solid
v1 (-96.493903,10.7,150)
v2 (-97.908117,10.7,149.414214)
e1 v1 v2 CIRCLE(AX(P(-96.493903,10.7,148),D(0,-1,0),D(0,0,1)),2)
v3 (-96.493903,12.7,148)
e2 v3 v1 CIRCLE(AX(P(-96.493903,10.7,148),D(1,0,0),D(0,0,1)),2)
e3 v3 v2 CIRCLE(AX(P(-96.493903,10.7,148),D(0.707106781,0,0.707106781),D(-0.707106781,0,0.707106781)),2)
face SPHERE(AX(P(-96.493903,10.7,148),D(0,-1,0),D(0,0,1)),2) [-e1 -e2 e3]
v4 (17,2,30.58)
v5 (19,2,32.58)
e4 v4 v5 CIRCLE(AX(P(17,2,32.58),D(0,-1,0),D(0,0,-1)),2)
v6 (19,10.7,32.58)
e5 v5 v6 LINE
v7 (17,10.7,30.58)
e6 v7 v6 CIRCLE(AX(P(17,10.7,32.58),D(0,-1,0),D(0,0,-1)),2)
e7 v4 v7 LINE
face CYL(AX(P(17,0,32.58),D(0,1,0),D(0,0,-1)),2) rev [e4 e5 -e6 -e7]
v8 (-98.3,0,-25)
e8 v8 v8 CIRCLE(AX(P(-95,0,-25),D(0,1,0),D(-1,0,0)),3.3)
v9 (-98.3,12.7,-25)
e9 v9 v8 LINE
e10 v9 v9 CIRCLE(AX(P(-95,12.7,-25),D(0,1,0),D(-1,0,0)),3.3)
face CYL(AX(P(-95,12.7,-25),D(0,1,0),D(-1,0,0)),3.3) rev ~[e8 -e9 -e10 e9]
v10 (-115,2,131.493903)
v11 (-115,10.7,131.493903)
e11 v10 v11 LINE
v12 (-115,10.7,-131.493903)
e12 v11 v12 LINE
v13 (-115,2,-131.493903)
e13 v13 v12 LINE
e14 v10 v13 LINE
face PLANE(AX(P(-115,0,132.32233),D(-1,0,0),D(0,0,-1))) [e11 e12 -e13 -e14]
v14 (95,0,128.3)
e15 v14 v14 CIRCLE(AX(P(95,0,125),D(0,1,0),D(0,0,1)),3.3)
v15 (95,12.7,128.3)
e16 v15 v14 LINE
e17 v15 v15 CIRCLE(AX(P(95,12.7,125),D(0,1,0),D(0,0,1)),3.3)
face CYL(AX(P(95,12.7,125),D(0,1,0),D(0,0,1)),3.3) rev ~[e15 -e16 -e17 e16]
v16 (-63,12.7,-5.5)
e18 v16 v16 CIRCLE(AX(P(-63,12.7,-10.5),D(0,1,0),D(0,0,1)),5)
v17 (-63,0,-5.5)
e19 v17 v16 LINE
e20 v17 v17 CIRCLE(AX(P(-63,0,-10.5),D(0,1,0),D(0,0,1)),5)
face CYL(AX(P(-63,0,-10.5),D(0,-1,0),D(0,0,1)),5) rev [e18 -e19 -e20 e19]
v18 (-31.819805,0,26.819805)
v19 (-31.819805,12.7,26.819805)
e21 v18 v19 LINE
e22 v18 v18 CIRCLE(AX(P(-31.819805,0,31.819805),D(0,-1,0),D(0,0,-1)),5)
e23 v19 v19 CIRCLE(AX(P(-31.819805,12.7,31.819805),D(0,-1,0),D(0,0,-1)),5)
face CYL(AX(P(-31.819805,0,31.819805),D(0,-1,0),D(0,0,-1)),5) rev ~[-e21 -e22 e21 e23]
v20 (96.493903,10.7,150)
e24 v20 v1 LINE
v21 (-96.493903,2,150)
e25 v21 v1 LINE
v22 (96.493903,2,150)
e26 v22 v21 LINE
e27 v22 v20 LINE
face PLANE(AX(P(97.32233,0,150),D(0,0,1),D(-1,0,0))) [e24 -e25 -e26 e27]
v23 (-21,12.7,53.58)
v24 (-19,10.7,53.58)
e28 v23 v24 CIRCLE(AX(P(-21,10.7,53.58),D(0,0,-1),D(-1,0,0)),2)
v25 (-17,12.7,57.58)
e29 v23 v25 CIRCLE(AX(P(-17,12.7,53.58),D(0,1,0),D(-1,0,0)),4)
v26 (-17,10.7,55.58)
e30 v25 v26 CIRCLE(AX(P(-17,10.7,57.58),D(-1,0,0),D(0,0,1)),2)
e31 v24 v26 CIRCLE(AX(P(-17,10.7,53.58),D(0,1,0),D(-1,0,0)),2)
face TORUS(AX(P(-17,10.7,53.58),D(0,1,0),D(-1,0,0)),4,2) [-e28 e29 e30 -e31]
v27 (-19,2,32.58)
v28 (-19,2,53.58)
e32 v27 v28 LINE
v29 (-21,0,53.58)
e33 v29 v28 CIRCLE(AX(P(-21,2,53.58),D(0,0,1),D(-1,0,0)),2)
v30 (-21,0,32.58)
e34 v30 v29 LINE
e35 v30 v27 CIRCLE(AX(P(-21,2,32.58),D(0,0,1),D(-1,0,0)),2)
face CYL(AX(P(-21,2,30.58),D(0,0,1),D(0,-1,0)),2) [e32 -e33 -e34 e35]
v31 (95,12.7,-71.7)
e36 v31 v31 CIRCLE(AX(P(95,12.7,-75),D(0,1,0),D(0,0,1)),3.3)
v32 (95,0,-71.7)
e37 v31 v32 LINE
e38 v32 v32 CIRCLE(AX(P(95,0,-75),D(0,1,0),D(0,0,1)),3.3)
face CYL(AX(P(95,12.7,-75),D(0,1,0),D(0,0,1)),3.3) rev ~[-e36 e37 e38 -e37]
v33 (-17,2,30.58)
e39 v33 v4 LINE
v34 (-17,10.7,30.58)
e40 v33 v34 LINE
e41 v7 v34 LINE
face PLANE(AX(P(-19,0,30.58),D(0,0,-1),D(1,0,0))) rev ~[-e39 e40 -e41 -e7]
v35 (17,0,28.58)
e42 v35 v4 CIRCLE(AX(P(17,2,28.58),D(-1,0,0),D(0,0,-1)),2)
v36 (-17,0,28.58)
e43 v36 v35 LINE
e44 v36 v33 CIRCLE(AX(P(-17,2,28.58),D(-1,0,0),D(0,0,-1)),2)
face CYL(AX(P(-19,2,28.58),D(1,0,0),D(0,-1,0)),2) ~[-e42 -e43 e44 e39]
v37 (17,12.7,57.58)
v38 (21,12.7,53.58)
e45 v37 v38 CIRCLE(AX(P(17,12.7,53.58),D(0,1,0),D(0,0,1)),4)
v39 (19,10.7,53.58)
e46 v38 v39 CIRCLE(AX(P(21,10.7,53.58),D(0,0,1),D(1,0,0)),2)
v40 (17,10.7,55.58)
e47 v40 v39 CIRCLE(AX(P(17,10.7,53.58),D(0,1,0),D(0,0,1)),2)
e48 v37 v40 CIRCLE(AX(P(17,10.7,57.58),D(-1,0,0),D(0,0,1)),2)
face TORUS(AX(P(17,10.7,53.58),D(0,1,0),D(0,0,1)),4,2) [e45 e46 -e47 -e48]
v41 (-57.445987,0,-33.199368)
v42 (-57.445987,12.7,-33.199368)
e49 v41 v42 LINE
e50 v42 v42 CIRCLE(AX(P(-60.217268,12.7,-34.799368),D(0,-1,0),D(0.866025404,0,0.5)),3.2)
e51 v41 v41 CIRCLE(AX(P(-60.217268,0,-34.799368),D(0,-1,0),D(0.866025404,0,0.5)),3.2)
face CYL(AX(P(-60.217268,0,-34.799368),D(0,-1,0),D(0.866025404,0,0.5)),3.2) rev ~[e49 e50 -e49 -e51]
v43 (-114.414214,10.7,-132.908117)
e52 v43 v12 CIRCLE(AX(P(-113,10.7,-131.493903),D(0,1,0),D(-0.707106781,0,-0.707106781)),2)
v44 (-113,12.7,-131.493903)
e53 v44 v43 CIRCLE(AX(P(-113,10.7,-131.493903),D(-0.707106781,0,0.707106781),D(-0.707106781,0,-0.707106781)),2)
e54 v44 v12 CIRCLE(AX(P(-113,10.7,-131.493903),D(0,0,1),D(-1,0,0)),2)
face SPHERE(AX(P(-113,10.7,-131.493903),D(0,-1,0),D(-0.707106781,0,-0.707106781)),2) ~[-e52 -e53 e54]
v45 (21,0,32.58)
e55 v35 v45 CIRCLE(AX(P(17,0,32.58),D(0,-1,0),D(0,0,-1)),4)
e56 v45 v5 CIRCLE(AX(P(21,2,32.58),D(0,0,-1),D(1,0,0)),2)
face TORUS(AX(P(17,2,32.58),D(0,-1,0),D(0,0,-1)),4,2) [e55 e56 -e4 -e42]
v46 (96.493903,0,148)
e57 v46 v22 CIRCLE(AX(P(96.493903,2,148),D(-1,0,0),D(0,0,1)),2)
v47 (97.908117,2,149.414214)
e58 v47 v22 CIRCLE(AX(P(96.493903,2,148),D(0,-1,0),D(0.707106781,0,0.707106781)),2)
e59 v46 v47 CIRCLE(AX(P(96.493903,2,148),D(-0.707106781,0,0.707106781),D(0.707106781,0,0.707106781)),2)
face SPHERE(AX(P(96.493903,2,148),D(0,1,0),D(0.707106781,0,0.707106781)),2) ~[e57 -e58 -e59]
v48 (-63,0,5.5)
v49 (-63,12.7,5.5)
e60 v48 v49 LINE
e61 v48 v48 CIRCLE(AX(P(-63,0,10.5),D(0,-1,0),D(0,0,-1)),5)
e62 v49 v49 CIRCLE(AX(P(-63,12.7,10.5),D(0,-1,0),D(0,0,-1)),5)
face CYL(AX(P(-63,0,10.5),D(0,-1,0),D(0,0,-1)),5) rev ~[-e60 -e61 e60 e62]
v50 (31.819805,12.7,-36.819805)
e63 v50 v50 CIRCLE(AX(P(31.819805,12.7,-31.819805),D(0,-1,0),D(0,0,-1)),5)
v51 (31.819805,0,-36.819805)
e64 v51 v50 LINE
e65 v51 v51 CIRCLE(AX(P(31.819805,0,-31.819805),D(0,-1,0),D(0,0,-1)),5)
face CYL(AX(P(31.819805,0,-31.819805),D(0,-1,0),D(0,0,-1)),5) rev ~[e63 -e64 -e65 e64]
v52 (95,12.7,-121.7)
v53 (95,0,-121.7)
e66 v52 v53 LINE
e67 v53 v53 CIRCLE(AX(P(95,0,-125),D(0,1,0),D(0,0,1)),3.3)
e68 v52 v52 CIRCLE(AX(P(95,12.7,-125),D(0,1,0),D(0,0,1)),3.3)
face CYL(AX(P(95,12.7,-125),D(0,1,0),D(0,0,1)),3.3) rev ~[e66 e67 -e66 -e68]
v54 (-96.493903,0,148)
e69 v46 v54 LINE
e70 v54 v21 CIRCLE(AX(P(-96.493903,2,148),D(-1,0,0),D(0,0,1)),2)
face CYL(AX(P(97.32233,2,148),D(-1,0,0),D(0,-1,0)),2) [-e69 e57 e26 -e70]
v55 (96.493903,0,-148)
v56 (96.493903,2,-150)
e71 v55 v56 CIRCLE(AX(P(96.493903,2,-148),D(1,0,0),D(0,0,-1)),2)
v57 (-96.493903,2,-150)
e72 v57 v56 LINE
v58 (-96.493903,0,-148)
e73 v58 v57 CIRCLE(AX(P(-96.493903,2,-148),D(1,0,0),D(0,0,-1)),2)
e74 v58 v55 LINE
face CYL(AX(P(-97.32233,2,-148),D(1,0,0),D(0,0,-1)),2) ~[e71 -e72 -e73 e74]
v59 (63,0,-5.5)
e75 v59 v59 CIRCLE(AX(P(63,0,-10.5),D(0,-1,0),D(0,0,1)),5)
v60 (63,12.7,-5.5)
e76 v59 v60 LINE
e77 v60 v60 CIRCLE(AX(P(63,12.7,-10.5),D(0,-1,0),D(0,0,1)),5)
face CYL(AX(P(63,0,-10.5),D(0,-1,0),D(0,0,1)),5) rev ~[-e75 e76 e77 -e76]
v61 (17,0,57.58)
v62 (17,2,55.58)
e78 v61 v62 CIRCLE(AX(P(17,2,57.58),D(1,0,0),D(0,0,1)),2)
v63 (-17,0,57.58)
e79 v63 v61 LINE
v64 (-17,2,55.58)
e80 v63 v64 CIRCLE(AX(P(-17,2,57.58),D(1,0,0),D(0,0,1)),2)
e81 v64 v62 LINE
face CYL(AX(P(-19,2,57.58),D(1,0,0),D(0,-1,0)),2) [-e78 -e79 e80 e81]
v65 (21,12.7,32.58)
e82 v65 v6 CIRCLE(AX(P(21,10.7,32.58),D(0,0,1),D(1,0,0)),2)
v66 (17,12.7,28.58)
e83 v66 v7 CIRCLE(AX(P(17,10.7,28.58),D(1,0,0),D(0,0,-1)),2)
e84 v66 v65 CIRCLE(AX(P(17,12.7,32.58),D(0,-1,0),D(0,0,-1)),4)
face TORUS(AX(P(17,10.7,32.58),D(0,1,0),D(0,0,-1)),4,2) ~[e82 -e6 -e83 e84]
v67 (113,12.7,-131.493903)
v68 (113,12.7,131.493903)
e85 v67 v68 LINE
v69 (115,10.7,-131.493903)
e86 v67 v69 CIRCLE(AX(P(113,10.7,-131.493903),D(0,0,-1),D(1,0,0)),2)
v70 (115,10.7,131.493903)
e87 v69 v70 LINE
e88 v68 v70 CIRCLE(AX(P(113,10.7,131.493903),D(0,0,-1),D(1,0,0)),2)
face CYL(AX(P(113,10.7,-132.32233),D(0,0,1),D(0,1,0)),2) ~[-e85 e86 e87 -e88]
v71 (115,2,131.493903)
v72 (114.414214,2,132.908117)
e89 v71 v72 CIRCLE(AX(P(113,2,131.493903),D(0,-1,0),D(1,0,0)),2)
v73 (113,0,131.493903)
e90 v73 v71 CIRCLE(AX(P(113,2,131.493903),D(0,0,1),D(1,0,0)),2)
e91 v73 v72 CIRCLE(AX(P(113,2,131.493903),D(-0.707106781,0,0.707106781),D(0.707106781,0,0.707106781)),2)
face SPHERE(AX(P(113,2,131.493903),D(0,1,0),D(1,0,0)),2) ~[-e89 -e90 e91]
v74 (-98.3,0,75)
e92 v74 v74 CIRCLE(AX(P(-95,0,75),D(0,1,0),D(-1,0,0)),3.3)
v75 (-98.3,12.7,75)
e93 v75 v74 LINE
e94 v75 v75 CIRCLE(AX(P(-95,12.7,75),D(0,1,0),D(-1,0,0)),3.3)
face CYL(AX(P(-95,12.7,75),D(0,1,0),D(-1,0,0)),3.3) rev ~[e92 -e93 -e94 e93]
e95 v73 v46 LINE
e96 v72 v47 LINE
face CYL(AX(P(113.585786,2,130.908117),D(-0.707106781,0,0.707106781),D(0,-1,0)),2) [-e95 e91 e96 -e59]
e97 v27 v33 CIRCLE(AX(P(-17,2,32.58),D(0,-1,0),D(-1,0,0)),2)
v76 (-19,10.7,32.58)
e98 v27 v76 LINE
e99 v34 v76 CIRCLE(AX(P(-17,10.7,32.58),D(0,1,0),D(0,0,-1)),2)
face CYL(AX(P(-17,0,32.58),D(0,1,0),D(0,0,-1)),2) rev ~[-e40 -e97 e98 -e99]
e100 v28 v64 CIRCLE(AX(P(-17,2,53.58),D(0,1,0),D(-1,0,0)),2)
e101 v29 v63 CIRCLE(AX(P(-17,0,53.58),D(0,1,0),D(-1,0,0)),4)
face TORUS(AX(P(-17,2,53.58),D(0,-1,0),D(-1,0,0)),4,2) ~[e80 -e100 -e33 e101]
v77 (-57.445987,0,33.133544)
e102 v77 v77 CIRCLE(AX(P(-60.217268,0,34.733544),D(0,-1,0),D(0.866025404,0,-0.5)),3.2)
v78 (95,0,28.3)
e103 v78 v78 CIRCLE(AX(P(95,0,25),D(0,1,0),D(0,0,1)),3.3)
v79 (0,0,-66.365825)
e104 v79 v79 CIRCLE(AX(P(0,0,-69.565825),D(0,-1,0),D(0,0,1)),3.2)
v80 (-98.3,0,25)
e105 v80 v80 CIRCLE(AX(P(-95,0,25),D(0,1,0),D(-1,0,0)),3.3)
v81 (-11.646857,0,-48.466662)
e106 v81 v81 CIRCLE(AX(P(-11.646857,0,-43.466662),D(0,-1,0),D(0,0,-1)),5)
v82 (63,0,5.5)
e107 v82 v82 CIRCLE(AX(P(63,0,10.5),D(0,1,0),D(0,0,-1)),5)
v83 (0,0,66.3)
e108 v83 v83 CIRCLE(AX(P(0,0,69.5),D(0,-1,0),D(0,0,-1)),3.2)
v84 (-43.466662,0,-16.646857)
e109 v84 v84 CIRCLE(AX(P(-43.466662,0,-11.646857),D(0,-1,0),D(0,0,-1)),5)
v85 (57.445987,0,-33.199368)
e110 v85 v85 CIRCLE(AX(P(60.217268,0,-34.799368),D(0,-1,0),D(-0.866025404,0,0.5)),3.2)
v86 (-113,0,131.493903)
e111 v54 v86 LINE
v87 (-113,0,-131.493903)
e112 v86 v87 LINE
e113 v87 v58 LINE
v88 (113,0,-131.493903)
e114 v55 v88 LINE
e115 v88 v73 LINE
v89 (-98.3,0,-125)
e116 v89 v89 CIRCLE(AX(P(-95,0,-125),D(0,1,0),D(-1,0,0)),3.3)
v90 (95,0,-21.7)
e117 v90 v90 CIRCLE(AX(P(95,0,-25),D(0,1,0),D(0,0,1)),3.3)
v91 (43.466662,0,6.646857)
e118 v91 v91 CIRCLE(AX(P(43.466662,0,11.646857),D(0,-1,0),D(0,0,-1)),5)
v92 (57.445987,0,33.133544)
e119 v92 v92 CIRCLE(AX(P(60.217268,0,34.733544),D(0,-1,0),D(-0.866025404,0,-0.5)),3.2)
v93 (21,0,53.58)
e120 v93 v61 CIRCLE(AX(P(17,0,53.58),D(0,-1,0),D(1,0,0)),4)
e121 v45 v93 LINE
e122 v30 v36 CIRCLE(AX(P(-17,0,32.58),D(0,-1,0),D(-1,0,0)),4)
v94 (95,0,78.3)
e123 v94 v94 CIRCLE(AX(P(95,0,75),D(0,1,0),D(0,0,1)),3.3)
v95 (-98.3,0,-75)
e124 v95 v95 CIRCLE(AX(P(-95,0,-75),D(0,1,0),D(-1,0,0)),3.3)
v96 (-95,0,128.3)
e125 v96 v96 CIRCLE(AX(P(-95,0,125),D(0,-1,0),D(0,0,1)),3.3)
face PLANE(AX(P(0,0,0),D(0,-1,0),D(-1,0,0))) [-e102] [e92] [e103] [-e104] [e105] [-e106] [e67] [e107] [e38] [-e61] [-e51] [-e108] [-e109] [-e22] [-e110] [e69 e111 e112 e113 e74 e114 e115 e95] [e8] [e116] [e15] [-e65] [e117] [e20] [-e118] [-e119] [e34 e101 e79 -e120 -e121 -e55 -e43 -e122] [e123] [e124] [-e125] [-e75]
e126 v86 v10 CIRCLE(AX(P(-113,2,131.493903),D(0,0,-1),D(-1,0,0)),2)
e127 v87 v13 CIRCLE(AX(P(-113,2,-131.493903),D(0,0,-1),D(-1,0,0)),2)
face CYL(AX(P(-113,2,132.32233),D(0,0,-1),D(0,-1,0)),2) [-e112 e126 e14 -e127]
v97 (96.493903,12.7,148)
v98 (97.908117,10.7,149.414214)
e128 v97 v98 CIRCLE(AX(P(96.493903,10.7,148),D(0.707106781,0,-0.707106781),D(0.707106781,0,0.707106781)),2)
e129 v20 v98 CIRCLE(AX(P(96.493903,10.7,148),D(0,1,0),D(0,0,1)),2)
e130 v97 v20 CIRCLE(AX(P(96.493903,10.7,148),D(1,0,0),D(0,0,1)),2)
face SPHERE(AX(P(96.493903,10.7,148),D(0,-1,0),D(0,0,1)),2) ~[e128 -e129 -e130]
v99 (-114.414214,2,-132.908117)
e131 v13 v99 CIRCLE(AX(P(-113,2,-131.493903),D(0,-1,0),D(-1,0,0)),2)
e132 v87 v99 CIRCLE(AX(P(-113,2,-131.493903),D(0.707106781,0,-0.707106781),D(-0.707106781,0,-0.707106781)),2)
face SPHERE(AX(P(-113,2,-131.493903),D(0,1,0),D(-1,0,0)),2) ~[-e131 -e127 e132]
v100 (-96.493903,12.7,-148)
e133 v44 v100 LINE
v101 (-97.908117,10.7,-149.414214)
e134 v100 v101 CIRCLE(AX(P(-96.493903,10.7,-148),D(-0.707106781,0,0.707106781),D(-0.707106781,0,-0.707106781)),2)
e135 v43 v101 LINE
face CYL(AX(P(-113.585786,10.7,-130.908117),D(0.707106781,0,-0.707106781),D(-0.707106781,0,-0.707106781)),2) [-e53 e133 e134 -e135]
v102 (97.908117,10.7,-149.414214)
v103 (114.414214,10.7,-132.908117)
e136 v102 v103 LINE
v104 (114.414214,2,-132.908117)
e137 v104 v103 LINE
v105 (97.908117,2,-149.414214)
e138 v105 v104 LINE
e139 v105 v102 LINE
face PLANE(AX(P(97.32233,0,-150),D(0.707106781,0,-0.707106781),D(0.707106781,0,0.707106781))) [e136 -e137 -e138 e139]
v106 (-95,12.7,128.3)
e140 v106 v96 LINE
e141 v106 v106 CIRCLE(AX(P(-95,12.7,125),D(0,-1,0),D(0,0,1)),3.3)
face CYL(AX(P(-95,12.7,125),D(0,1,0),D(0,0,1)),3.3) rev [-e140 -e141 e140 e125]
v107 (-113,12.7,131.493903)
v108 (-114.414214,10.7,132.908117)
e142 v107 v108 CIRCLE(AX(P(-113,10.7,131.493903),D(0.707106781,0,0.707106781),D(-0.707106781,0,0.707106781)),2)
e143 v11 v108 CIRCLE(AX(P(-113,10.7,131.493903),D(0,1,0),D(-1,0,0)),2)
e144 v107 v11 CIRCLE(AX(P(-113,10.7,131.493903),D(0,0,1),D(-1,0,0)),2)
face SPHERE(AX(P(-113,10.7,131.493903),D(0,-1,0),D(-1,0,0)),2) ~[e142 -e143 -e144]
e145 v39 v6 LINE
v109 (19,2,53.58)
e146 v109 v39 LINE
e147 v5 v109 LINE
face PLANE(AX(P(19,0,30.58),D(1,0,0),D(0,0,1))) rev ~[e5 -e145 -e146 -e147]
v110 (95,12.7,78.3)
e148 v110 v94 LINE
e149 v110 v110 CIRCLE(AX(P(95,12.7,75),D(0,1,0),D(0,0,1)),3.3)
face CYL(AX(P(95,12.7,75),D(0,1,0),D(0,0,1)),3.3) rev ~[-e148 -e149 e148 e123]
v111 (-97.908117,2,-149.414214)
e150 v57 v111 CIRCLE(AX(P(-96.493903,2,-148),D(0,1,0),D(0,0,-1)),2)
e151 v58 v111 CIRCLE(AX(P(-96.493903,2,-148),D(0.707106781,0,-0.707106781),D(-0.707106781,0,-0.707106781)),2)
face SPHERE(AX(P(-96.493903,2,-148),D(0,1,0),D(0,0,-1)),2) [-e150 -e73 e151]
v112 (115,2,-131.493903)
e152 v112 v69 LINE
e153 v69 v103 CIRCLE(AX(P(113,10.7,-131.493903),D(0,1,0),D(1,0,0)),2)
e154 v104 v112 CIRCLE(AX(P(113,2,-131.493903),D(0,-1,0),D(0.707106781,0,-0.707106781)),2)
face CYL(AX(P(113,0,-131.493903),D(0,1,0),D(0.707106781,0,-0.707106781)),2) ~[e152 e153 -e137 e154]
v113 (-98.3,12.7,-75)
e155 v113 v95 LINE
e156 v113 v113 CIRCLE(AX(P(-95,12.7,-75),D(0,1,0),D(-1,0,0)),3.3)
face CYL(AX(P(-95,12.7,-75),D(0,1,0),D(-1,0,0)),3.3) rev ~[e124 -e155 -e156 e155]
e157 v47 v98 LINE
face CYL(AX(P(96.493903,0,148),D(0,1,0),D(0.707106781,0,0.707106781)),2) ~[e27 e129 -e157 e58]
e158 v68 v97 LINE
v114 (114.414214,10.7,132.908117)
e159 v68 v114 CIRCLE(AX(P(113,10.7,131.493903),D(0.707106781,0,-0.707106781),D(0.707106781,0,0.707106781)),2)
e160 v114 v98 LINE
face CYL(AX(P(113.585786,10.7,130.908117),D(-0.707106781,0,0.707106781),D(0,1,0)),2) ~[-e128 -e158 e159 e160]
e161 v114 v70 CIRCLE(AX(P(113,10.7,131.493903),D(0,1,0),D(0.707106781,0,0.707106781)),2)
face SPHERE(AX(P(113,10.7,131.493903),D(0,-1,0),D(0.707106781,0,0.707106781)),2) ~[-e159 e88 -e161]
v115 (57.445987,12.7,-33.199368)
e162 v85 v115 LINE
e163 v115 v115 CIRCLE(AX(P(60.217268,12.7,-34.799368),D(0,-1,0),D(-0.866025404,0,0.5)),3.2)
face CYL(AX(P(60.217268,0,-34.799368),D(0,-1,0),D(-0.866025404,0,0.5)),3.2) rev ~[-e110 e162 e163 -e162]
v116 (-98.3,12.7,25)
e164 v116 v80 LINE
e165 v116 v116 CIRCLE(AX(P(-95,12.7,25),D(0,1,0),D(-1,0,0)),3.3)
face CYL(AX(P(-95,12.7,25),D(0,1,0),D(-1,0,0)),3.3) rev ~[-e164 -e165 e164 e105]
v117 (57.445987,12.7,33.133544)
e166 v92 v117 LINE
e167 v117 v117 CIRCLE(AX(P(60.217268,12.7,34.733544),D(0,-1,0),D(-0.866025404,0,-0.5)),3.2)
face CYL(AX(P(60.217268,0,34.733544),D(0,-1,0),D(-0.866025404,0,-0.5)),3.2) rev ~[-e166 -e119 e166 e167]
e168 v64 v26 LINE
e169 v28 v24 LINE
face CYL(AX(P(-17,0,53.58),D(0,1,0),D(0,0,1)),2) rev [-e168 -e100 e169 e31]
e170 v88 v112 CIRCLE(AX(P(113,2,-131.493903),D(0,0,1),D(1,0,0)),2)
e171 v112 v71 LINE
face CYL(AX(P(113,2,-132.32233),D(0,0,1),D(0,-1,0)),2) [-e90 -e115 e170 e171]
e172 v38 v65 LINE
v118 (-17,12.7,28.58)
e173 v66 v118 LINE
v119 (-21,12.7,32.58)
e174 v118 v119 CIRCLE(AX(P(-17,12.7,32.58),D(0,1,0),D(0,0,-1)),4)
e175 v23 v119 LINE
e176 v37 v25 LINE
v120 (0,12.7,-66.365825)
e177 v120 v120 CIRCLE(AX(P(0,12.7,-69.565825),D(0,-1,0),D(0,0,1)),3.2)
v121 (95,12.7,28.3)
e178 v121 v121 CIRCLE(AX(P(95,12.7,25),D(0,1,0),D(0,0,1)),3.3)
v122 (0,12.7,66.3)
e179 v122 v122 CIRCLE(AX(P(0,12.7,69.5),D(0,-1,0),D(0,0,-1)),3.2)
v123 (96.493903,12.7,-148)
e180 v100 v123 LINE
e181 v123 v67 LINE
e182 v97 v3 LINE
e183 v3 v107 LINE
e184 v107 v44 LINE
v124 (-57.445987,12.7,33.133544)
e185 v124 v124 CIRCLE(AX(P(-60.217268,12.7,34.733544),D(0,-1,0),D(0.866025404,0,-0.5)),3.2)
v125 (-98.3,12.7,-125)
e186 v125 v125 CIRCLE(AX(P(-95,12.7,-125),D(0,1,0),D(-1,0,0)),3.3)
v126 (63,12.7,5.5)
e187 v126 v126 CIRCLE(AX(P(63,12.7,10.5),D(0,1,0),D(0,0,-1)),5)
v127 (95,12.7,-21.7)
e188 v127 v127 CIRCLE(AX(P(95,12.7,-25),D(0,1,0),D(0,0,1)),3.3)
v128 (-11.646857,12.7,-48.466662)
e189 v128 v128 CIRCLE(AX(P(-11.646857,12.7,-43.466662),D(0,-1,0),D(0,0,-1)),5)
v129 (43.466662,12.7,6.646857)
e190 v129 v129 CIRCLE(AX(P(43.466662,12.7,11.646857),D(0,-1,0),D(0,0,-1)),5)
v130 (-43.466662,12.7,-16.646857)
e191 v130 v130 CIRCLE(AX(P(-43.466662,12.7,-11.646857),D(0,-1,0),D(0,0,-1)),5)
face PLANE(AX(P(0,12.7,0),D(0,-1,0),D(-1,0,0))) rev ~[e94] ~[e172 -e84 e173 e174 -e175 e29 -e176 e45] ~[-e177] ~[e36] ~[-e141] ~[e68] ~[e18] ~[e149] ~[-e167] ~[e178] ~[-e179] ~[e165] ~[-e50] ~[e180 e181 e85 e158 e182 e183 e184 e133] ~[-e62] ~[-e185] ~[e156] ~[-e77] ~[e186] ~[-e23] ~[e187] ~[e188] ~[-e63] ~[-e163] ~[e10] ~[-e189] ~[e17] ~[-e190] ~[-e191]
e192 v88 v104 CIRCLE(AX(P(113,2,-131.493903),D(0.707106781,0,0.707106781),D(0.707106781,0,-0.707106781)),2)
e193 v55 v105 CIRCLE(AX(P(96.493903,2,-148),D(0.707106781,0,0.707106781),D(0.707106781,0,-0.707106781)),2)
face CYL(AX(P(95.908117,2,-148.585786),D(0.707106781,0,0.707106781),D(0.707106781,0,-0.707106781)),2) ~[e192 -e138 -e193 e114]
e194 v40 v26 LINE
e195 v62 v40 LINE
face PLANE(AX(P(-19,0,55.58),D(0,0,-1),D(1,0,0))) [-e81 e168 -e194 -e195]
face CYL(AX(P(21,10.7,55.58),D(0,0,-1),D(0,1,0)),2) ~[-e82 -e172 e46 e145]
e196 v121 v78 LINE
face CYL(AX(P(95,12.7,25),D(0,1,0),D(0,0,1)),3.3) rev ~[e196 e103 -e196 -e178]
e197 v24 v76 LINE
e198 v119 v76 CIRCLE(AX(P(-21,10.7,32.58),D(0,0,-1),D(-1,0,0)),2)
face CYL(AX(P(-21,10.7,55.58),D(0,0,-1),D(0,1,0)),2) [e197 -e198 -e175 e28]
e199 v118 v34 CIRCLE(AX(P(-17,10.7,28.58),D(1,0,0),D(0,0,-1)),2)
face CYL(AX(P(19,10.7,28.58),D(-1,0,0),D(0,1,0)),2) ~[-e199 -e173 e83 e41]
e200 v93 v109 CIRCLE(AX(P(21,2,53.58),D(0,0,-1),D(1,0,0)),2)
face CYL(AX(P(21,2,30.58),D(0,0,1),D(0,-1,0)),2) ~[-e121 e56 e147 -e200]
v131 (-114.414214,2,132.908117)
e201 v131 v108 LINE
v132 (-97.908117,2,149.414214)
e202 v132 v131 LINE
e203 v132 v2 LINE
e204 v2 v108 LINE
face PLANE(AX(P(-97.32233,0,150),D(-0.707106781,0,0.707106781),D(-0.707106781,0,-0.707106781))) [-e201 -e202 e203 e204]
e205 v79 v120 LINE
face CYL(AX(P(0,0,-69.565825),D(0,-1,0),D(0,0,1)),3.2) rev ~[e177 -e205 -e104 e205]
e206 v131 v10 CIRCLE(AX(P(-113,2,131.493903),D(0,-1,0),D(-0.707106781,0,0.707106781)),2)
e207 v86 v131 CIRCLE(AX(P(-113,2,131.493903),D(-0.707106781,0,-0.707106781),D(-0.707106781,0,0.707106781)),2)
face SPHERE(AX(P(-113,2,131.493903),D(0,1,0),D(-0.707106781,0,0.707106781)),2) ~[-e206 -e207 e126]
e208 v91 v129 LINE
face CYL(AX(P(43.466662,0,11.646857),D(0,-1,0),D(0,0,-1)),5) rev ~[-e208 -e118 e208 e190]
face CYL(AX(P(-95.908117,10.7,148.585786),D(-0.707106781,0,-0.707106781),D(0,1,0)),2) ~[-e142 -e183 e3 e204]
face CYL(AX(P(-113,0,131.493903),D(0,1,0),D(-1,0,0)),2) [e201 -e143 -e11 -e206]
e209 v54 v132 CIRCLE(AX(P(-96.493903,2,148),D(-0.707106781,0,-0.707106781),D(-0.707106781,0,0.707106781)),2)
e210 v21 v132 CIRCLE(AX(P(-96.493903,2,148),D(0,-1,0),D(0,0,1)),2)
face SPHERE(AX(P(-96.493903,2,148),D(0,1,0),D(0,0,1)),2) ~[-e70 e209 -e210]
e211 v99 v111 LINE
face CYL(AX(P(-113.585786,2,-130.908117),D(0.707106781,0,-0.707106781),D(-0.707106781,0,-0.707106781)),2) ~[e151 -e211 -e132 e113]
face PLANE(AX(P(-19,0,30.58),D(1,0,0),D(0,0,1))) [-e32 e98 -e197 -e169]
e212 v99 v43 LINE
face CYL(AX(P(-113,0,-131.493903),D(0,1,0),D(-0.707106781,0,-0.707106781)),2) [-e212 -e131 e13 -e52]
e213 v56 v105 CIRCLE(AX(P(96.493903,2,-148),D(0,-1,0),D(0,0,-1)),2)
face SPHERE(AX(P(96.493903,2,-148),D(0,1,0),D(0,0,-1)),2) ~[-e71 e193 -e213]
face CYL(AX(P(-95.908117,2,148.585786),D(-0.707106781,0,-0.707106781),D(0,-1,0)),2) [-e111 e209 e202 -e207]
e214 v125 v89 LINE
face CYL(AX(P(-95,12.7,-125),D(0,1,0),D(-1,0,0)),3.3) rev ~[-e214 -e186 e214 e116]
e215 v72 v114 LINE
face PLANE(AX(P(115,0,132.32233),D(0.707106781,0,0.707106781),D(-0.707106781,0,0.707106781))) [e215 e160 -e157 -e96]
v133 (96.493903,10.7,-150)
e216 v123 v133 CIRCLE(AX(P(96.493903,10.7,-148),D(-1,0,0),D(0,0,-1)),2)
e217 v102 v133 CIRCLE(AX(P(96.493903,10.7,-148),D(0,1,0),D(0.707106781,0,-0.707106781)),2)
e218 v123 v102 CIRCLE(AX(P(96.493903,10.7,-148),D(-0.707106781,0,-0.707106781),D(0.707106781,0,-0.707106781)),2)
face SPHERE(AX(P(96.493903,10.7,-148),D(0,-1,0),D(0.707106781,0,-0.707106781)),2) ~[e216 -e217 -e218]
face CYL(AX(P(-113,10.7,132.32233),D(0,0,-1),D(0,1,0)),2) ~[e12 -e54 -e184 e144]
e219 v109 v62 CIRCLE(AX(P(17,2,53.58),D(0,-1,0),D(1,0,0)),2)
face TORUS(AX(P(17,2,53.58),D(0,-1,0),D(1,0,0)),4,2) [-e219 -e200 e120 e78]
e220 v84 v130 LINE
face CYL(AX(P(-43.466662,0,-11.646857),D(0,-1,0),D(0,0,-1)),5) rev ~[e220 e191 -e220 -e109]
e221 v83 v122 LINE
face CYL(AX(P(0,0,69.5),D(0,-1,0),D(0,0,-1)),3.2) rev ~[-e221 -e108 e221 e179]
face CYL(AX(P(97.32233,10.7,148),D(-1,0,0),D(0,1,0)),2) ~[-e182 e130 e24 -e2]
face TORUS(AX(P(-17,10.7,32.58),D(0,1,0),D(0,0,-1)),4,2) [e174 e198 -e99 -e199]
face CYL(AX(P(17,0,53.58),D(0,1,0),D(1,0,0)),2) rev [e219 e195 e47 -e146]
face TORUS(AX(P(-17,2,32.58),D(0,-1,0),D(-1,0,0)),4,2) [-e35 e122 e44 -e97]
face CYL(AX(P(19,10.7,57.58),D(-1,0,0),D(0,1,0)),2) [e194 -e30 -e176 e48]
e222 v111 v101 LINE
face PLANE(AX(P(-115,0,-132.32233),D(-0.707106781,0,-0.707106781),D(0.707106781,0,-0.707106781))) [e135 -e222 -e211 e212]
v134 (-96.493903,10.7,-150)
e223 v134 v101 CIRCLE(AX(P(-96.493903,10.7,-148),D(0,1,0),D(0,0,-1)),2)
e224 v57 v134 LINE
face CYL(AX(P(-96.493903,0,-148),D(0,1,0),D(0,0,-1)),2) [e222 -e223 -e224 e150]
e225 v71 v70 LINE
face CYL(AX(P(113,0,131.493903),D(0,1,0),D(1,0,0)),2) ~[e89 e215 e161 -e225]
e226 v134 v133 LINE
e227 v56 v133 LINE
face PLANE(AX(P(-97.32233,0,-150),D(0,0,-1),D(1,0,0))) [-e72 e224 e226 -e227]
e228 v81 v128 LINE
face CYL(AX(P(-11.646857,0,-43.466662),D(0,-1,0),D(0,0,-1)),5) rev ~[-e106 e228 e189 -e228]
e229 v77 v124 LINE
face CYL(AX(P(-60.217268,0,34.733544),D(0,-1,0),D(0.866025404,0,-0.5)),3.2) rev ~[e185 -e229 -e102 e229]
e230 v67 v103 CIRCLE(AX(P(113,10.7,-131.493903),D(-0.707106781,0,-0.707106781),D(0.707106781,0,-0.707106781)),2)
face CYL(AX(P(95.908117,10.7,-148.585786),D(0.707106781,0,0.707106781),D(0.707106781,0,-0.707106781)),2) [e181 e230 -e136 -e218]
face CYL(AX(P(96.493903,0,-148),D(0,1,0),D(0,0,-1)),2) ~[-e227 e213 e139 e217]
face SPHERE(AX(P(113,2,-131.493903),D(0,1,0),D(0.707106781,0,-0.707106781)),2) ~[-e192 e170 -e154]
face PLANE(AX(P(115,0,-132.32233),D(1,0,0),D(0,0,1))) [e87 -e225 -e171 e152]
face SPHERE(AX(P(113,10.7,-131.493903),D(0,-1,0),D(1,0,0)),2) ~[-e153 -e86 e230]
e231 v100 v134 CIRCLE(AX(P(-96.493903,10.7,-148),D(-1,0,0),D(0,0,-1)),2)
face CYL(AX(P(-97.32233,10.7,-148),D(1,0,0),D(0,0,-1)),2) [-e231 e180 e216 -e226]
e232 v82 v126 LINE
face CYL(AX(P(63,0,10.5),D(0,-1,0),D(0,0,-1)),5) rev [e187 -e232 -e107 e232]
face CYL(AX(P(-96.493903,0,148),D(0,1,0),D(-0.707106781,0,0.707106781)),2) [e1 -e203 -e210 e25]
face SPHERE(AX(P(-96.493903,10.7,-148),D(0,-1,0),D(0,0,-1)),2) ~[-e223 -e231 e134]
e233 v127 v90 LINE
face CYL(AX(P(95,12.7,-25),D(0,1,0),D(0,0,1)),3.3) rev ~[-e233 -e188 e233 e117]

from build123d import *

# Parameters (mm, degrees)
BOSS_EXTRUDE1_DEPTH                        = 12.7
SKETCH8_R                                  = 3.3
CUT_EXTRUDE1_DEPTH                         = 12.7
LPATTERN1_COUNT                            = 6
LPATTERN1_PITCH                            = 50
MIRROR1_COPY_1_SKETCH_R                    = 3.3
MIRROR1_COPY_1_DEPTH                       = 12.7
MIRROR1_COPY_2_SKETCH_R                    = 3.3
MIRROR1_COPY_2_DEPTH                       = 12.7
MIRROR1_COPY_3_SKETCH_R                    = 3.3
MIRROR1_COPY_3_DEPTH                       = 12.7
MIRROR1_COPY_4_SKETCH_R                    = 3.3
MIRROR1_COPY_4_DEPTH                       = 12.7
MIRROR1_COPY_5_SKETCH_R                    = 3.3
MIRROR1_COPY_5_DEPTH                       = 12.7
SKETCH14_R                                 = 3.2
CUT_EXTRUDE6_DEPTH                         = 190.436770454
CIRPATTERN1_COUNT                          = 6
FILLET1_R                                  = 2
CUT_EXTRUDE7_REACH                         = 191.437
SKETCH15_R                                 = 5
CUT_EXTRUDE8_REACH                         = 191.437
SKETCH17_R                                 = 5
MIRROR2_AT_THE_SECOND_PLANE_COPY_1_REACH   = 191.437
MIRROR2_AT_THE_SECOND_PLANE_COPY_1_SKETC_R = 5
CUT_EXTRUDE9_REACH                         = 191.437
SKETCH18_W                                 = 38
SKETCH18_H                                 = 25
FILLET3_R                                  = 2


with BuildPart() as part:
    # Sketch2 → Boss-Extrude1 (new body)
    with BuildSketch(Plane(origin=(0, 0, 0), x_dir=(1, 0, 0), z_dir=(0, 1, 0))):
        Polygon((-97.32233047, 150), (97.32233047, 150), (115, 132.32233047), (115, -132.32233047), (97.32233047, -150), (-97.32233047, -150), (-115, -132.32233047), (-115, 132.32233047), align=None)
    extrude(amount=BOSS_EXTRUDE1_DEPTH)

    # Sketch8 → Cut-Extrude1 (cut)
    with BuildSketch(Plane(origin=(0, 12.7, 0), x_dir=(1, 0, 0), z_dir=(0, 1, 0))):
        with Locations(Location((95, -125, 0), (0, 0, 270))):
            Circle(SKETCH8_R)
    cut_extrude1 = extrude(amount=-CUT_EXTRUDE1_DEPTH, mode=Mode.SUBTRACT)

    # LPattern1: Cut-Extrude1 ×6
    with Locations(*[(0, 0, -i * LPATTERN1_PITCH) for i in range(1, LPATTERN1_COUNT)]):
        add(cut_extrude1, mode=Mode.SUBTRACT)

    # Mirror1: Cut-Extrude1 across plane
    add(cut_extrude1.mirror(Plane(origin=(0, 0, 0), x_dir=(0, 0, 1), z_dir=(1, 0, 0))), mode=Mode.SUBTRACT)

    # Mirror1 copy 1 sketch → Mirror1 copy 1 (cut)
    with BuildSketch(Plane(origin=(0, 12.7, -50), x_dir=(-1, 0, 0), z_dir=(0, 1, 0))):
        with Locations((95, 125)):
            Circle(MIRROR1_COPY_1_SKETCH_R)
    extrude(amount=-MIRROR1_COPY_1_DEPTH, mode=Mode.SUBTRACT)

    # Mirror1 copy 2 sketch → Mirror1 copy 2 (cut)
    with BuildSketch(Plane(origin=(0, 12.7, -100), x_dir=(-1, 0, 0), z_dir=(0, 1, 0))):
        with Locations((95, 125)):
            Circle(MIRROR1_COPY_2_SKETCH_R)
    extrude(amount=-MIRROR1_COPY_2_DEPTH, mode=Mode.SUBTRACT)

    # Mirror1 copy 3 sketch → Mirror1 copy 3 (cut)
    with BuildSketch(Plane(origin=(0, 12.7, -150), x_dir=(-1, 0, 0), z_dir=(0, 1, 0))):
        with Locations((95, 125)):
            Circle(MIRROR1_COPY_3_SKETCH_R)
    extrude(amount=-MIRROR1_COPY_3_DEPTH, mode=Mode.SUBTRACT)

    # Mirror1 copy 4 sketch → Mirror1 copy 4 (cut)
    with BuildSketch(Plane(origin=(0, 12.7, -200), x_dir=(-1, 0, 0), z_dir=(0, 1, 0))):
        with Locations((95, 125)):
            Circle(MIRROR1_COPY_4_SKETCH_R)
    extrude(amount=-MIRROR1_COPY_4_DEPTH, mode=Mode.SUBTRACT)

    # Mirror1 copy 5 sketch → Mirror1 copy 5 (cut)
    with BuildSketch(Plane(origin=(0, 12.7, -250), x_dir=(-1, 0, 0), z_dir=(0, 1, 0))):
        with Locations((95, 125)):
            Circle(MIRROR1_COPY_5_SKETCH_R)
    extrude(amount=-MIRROR1_COPY_5_DEPTH, mode=Mode.SUBTRACT)

    # Sketch14 → Cut-Extrude6 (cut, through all)
    with BuildSketch(Plane.XZ):
        with Locations(Location((0, 69.5, 0), (0, 0, 270))):
            Circle(SKETCH14_R)
    cut_extrude6 = extrude(amount=-CUT_EXTRUDE6_DEPTH, mode=Mode.SUBTRACT)

    # CirPattern1: Cut-Extrude6 ×6 about axis
    cirpattern1_axis = Axis((0, 0, -0.032912313), (0, 1, 0))
    for i in range(1, CIRPATTERN1_COUNT):
        add(cut_extrude6.rotate(cirpattern1_axis, i * 360 / CIRPATTERN1_COUNT), mode=Mode.SUBTRACT)

    # Fillet1
    fillet1_edges = [part.edges().sort_by_distance(p)[0] for p in [
        (0, 0, 150),
        (-106.161165235, 0, 141.161165235),
        (-115, 0, 0),
        (-106.161165235, 0, -141.161165235),
        (-106.161165235, 12.7, 141.161165235),
        (-97.32233047, 6.35, -150),
        (97.32233047, 6.35, -150),
        (115, 6.35, -132.32233047),
        (115, 6.35, 132.32233047),
        (97.32233047, 6.35, 150),
        (-97.32233047, 6.35, 150),
        (-115, 6.35, 132.32233047),
        (-115, 6.35, -132.32233047),
        (0, 12.7, 150),
        (106.161165235, 12.7, 141.161165235),
        (115, 12.7, 0),
        (106.161165235, 12.7, -141.161165235),
        (0, 12.7, -150),
        (-106.161165235, 12.7, -141.161165235),
        (0, 0, -150),
        (-115, 12.7, 0),
        (106.161165235, 0, -141.161165235),
        (115, 0, 0),
        (106.161165235, 0, 141.161165235),
    ]]
    fillet(fillet1_edges, radius=FILLET1_R)

    # Sketch15 → Cut-Extrude7 (cut, up to next)
    with BuildSketch(Plane.XZ, mode=Mode.PRIVATE) as cut_extrude7_sk1:
        with Locations(Location((11.64685703, 43.466662183, 0), (0, 0, 270))):
            Circle(SKETCH15_R)
    cut_extrude7_tool1 = extrude(cut_extrude7_sk1.sketch, amount=-CUT_EXTRUDE7_REACH, mode=Mode.PRIVATE) & part.part
    # Sketch15 → Cut-Extrude7 (cut, up to next)
    with BuildSketch(Plane.XZ, mode=Mode.PRIVATE) as cut_extrude7_sk2:
        with Locations(Location((43.466662183, 11.64685703, 0), (0, 0, 270))):
            Circle(SKETCH15_R)
    cut_extrude7_tool2 = extrude(cut_extrude7_sk2.sketch, amount=-CUT_EXTRUDE7_REACH, mode=Mode.PRIVATE) & part.part
    # Sketch15 → Cut-Extrude7 (cut, up to next)
    with BuildSketch(Plane.XZ, mode=Mode.PRIVATE) as cut_extrude7_sk3:
        with Locations(Location((31.819805153, -31.819805153, 0), (0, 0, 270))):
            Circle(SKETCH15_R)
    cut_extrude7_tool3 = extrude(cut_extrude7_sk3.sketch, amount=-CUT_EXTRUDE7_REACH, mode=Mode.PRIVATE) & part.part
    # Sketch15 → Cut-Extrude7 (cut, up to next)
    with BuildSketch(Plane.XZ, mode=Mode.PRIVATE) as cut_extrude7_sk4:
        with Locations(Location((-11.64685703, -43.466662183, 0), (0, 0, 270))):
            Circle(SKETCH15_R)
    cut_extrude7_tool4 = extrude(cut_extrude7_sk4.sketch, amount=-CUT_EXTRUDE7_REACH, mode=Mode.PRIVATE) & part.part
    # Sketch15 → Cut-Extrude7 (cut, up to next)
    with BuildSketch(Plane.XZ, mode=Mode.PRIVATE) as cut_extrude7_sk5:
        with Locations(Location((-43.466662183, -11.64685703, 0), (0, 0, 270))):
            Circle(SKETCH15_R)
    cut_extrude7_tool5 = extrude(cut_extrude7_sk5.sketch, amount=-CUT_EXTRUDE7_REACH, mode=Mode.PRIVATE) & part.part
    # Sketch15 → Cut-Extrude7 (cut, up to next)
    with BuildSketch(Plane.XZ, mode=Mode.PRIVATE) as cut_extrude7_sk6:
        with Locations(Location((-31.819805153, 31.819805153, 0), (0, 0, 270))):
            Circle(SKETCH15_R)
    cut_extrude7_tool6 = extrude(cut_extrude7_sk6.sketch, amount=-CUT_EXTRUDE7_REACH, mode=Mode.PRIVATE) & part.part
    add(cut_extrude7_tool1.solids().sort_by_distance((11.646857, 0, 43.466662))[0], mode=Mode.SUBTRACT)
    add(cut_extrude7_tool2.solids().sort_by_distance((43.466662, 0, 11.646857))[0], mode=Mode.SUBTRACT)
    add(cut_extrude7_tool3.solids().sort_by_distance((31.819805, 0, -31.819805))[0], mode=Mode.SUBTRACT)
    add(cut_extrude7_tool4.solids().sort_by_distance((-11.646857, 0, -43.466662))[0], mode=Mode.SUBTRACT)
    add(cut_extrude7_tool5.solids().sort_by_distance((-43.466662, 0, -11.646857))[0], mode=Mode.SUBTRACT)
    add(cut_extrude7_tool6.solids().sort_by_distance((-31.819805, 0, 31.819805))[0], mode=Mode.SUBTRACT)

    # Sketch17 → Cut-Extrude8 (cut, up to next)
    with BuildSketch(Plane.XZ, mode=Mode.PRIVATE) as cut_extrude8_sk1:
        with Locations(Location((-63, 10.5, 0), (0, 0, 270))):
            Circle(SKETCH17_R)
    cut_extrude8_tool1 = extrude(cut_extrude8_sk1.sketch, amount=-CUT_EXTRUDE8_REACH, mode=Mode.PRIVATE) & part.part
    cut_extrude8 = cut_extrude8_tool1.solids().sort_by_distance((-63, 0, 10.5))[0]
    add(cut_extrude8, mode=Mode.SUBTRACT)

    # Mirror2: Cut-Extrude8 across plane
    add(cut_extrude8.mirror(Plane.XY), mode=Mode.SUBTRACT)

    # Mirror2 at the second plane: Cut-Extrude8 across plane
    add(cut_extrude8.mirror(Plane(origin=(0, 0, 0), x_dir=(0, 0, 1), z_dir=(1, 0, 0))), mode=Mode.SUBTRACT)

    # Mirror2 at the second plane copy 1 sketc → Mirror2 at the second plane copy 1 (cut, up to next)
    with BuildSketch(Plane(origin=(0, 0, 0), x_dir=(-1, 0, 0), z_dir=(0, -1, 0)), mode=Mode.PRIVATE) as mirror2_at_the_second_plane_copy_1_sk1:
        with Locations(Location((-63, 10.5, 0), (0, 0, 270))):
            Circle(MIRROR2_AT_THE_SECOND_PLANE_COPY_1_SKETC_R)
    mirror2_at_the_second_plane_copy_1_tool1 = extrude(mirror2_at_the_second_plane_copy_1_sk1.sketch, amount=-MIRROR2_AT_THE_SECOND_PLANE_COPY_1_REACH, mode=Mode.PRIVATE) & part.part
    add(mirror2_at_the_second_plane_copy_1_tool1.solids().sort_by_distance((63, 0, -10.5))[0], mode=Mode.SUBTRACT)

    # Sketch18 → Cut-Extrude9 (cut, up to next)
    with BuildSketch(Plane.XZ, mode=Mode.PRIVATE) as cut_extrude9_sk1:
        with Locations((0, 43.08)):
            Rectangle(SKETCH18_W, SKETCH18_H)
    cut_extrude9_tool1 = extrude(cut_extrude9_sk1.sketch, amount=-CUT_EXTRUDE9_REACH, mode=Mode.PRIVATE) & part.part
    add(cut_extrude9_tool1.solids().sort_by_distance((0, 0, 43.08))[0], mode=Mode.SUBTRACT)

    # Fillet3
    fillet3_edges = [part.edges().sort_by_distance(p)[0] for p in [
        (-19, 6.35, 30.58),
        (-19, 6.35, 55.58),
        (19, 6.35, 55.58),
        (19, 6.35, 30.58),
        (-19, 0, 43.08),
        (0, 0, 30.58),
        (19, 0, 43.08),
        (0, 0, 55.58),
        (0, 12.7, 30.58),
        (-19, 12.7, 43.08),
        (0, 12.7, 55.58),
        (19, 12.7, 43.08),
    ]]
    fillet(fillet3_edges, radius=FILLET3_R)


solid = part.part
